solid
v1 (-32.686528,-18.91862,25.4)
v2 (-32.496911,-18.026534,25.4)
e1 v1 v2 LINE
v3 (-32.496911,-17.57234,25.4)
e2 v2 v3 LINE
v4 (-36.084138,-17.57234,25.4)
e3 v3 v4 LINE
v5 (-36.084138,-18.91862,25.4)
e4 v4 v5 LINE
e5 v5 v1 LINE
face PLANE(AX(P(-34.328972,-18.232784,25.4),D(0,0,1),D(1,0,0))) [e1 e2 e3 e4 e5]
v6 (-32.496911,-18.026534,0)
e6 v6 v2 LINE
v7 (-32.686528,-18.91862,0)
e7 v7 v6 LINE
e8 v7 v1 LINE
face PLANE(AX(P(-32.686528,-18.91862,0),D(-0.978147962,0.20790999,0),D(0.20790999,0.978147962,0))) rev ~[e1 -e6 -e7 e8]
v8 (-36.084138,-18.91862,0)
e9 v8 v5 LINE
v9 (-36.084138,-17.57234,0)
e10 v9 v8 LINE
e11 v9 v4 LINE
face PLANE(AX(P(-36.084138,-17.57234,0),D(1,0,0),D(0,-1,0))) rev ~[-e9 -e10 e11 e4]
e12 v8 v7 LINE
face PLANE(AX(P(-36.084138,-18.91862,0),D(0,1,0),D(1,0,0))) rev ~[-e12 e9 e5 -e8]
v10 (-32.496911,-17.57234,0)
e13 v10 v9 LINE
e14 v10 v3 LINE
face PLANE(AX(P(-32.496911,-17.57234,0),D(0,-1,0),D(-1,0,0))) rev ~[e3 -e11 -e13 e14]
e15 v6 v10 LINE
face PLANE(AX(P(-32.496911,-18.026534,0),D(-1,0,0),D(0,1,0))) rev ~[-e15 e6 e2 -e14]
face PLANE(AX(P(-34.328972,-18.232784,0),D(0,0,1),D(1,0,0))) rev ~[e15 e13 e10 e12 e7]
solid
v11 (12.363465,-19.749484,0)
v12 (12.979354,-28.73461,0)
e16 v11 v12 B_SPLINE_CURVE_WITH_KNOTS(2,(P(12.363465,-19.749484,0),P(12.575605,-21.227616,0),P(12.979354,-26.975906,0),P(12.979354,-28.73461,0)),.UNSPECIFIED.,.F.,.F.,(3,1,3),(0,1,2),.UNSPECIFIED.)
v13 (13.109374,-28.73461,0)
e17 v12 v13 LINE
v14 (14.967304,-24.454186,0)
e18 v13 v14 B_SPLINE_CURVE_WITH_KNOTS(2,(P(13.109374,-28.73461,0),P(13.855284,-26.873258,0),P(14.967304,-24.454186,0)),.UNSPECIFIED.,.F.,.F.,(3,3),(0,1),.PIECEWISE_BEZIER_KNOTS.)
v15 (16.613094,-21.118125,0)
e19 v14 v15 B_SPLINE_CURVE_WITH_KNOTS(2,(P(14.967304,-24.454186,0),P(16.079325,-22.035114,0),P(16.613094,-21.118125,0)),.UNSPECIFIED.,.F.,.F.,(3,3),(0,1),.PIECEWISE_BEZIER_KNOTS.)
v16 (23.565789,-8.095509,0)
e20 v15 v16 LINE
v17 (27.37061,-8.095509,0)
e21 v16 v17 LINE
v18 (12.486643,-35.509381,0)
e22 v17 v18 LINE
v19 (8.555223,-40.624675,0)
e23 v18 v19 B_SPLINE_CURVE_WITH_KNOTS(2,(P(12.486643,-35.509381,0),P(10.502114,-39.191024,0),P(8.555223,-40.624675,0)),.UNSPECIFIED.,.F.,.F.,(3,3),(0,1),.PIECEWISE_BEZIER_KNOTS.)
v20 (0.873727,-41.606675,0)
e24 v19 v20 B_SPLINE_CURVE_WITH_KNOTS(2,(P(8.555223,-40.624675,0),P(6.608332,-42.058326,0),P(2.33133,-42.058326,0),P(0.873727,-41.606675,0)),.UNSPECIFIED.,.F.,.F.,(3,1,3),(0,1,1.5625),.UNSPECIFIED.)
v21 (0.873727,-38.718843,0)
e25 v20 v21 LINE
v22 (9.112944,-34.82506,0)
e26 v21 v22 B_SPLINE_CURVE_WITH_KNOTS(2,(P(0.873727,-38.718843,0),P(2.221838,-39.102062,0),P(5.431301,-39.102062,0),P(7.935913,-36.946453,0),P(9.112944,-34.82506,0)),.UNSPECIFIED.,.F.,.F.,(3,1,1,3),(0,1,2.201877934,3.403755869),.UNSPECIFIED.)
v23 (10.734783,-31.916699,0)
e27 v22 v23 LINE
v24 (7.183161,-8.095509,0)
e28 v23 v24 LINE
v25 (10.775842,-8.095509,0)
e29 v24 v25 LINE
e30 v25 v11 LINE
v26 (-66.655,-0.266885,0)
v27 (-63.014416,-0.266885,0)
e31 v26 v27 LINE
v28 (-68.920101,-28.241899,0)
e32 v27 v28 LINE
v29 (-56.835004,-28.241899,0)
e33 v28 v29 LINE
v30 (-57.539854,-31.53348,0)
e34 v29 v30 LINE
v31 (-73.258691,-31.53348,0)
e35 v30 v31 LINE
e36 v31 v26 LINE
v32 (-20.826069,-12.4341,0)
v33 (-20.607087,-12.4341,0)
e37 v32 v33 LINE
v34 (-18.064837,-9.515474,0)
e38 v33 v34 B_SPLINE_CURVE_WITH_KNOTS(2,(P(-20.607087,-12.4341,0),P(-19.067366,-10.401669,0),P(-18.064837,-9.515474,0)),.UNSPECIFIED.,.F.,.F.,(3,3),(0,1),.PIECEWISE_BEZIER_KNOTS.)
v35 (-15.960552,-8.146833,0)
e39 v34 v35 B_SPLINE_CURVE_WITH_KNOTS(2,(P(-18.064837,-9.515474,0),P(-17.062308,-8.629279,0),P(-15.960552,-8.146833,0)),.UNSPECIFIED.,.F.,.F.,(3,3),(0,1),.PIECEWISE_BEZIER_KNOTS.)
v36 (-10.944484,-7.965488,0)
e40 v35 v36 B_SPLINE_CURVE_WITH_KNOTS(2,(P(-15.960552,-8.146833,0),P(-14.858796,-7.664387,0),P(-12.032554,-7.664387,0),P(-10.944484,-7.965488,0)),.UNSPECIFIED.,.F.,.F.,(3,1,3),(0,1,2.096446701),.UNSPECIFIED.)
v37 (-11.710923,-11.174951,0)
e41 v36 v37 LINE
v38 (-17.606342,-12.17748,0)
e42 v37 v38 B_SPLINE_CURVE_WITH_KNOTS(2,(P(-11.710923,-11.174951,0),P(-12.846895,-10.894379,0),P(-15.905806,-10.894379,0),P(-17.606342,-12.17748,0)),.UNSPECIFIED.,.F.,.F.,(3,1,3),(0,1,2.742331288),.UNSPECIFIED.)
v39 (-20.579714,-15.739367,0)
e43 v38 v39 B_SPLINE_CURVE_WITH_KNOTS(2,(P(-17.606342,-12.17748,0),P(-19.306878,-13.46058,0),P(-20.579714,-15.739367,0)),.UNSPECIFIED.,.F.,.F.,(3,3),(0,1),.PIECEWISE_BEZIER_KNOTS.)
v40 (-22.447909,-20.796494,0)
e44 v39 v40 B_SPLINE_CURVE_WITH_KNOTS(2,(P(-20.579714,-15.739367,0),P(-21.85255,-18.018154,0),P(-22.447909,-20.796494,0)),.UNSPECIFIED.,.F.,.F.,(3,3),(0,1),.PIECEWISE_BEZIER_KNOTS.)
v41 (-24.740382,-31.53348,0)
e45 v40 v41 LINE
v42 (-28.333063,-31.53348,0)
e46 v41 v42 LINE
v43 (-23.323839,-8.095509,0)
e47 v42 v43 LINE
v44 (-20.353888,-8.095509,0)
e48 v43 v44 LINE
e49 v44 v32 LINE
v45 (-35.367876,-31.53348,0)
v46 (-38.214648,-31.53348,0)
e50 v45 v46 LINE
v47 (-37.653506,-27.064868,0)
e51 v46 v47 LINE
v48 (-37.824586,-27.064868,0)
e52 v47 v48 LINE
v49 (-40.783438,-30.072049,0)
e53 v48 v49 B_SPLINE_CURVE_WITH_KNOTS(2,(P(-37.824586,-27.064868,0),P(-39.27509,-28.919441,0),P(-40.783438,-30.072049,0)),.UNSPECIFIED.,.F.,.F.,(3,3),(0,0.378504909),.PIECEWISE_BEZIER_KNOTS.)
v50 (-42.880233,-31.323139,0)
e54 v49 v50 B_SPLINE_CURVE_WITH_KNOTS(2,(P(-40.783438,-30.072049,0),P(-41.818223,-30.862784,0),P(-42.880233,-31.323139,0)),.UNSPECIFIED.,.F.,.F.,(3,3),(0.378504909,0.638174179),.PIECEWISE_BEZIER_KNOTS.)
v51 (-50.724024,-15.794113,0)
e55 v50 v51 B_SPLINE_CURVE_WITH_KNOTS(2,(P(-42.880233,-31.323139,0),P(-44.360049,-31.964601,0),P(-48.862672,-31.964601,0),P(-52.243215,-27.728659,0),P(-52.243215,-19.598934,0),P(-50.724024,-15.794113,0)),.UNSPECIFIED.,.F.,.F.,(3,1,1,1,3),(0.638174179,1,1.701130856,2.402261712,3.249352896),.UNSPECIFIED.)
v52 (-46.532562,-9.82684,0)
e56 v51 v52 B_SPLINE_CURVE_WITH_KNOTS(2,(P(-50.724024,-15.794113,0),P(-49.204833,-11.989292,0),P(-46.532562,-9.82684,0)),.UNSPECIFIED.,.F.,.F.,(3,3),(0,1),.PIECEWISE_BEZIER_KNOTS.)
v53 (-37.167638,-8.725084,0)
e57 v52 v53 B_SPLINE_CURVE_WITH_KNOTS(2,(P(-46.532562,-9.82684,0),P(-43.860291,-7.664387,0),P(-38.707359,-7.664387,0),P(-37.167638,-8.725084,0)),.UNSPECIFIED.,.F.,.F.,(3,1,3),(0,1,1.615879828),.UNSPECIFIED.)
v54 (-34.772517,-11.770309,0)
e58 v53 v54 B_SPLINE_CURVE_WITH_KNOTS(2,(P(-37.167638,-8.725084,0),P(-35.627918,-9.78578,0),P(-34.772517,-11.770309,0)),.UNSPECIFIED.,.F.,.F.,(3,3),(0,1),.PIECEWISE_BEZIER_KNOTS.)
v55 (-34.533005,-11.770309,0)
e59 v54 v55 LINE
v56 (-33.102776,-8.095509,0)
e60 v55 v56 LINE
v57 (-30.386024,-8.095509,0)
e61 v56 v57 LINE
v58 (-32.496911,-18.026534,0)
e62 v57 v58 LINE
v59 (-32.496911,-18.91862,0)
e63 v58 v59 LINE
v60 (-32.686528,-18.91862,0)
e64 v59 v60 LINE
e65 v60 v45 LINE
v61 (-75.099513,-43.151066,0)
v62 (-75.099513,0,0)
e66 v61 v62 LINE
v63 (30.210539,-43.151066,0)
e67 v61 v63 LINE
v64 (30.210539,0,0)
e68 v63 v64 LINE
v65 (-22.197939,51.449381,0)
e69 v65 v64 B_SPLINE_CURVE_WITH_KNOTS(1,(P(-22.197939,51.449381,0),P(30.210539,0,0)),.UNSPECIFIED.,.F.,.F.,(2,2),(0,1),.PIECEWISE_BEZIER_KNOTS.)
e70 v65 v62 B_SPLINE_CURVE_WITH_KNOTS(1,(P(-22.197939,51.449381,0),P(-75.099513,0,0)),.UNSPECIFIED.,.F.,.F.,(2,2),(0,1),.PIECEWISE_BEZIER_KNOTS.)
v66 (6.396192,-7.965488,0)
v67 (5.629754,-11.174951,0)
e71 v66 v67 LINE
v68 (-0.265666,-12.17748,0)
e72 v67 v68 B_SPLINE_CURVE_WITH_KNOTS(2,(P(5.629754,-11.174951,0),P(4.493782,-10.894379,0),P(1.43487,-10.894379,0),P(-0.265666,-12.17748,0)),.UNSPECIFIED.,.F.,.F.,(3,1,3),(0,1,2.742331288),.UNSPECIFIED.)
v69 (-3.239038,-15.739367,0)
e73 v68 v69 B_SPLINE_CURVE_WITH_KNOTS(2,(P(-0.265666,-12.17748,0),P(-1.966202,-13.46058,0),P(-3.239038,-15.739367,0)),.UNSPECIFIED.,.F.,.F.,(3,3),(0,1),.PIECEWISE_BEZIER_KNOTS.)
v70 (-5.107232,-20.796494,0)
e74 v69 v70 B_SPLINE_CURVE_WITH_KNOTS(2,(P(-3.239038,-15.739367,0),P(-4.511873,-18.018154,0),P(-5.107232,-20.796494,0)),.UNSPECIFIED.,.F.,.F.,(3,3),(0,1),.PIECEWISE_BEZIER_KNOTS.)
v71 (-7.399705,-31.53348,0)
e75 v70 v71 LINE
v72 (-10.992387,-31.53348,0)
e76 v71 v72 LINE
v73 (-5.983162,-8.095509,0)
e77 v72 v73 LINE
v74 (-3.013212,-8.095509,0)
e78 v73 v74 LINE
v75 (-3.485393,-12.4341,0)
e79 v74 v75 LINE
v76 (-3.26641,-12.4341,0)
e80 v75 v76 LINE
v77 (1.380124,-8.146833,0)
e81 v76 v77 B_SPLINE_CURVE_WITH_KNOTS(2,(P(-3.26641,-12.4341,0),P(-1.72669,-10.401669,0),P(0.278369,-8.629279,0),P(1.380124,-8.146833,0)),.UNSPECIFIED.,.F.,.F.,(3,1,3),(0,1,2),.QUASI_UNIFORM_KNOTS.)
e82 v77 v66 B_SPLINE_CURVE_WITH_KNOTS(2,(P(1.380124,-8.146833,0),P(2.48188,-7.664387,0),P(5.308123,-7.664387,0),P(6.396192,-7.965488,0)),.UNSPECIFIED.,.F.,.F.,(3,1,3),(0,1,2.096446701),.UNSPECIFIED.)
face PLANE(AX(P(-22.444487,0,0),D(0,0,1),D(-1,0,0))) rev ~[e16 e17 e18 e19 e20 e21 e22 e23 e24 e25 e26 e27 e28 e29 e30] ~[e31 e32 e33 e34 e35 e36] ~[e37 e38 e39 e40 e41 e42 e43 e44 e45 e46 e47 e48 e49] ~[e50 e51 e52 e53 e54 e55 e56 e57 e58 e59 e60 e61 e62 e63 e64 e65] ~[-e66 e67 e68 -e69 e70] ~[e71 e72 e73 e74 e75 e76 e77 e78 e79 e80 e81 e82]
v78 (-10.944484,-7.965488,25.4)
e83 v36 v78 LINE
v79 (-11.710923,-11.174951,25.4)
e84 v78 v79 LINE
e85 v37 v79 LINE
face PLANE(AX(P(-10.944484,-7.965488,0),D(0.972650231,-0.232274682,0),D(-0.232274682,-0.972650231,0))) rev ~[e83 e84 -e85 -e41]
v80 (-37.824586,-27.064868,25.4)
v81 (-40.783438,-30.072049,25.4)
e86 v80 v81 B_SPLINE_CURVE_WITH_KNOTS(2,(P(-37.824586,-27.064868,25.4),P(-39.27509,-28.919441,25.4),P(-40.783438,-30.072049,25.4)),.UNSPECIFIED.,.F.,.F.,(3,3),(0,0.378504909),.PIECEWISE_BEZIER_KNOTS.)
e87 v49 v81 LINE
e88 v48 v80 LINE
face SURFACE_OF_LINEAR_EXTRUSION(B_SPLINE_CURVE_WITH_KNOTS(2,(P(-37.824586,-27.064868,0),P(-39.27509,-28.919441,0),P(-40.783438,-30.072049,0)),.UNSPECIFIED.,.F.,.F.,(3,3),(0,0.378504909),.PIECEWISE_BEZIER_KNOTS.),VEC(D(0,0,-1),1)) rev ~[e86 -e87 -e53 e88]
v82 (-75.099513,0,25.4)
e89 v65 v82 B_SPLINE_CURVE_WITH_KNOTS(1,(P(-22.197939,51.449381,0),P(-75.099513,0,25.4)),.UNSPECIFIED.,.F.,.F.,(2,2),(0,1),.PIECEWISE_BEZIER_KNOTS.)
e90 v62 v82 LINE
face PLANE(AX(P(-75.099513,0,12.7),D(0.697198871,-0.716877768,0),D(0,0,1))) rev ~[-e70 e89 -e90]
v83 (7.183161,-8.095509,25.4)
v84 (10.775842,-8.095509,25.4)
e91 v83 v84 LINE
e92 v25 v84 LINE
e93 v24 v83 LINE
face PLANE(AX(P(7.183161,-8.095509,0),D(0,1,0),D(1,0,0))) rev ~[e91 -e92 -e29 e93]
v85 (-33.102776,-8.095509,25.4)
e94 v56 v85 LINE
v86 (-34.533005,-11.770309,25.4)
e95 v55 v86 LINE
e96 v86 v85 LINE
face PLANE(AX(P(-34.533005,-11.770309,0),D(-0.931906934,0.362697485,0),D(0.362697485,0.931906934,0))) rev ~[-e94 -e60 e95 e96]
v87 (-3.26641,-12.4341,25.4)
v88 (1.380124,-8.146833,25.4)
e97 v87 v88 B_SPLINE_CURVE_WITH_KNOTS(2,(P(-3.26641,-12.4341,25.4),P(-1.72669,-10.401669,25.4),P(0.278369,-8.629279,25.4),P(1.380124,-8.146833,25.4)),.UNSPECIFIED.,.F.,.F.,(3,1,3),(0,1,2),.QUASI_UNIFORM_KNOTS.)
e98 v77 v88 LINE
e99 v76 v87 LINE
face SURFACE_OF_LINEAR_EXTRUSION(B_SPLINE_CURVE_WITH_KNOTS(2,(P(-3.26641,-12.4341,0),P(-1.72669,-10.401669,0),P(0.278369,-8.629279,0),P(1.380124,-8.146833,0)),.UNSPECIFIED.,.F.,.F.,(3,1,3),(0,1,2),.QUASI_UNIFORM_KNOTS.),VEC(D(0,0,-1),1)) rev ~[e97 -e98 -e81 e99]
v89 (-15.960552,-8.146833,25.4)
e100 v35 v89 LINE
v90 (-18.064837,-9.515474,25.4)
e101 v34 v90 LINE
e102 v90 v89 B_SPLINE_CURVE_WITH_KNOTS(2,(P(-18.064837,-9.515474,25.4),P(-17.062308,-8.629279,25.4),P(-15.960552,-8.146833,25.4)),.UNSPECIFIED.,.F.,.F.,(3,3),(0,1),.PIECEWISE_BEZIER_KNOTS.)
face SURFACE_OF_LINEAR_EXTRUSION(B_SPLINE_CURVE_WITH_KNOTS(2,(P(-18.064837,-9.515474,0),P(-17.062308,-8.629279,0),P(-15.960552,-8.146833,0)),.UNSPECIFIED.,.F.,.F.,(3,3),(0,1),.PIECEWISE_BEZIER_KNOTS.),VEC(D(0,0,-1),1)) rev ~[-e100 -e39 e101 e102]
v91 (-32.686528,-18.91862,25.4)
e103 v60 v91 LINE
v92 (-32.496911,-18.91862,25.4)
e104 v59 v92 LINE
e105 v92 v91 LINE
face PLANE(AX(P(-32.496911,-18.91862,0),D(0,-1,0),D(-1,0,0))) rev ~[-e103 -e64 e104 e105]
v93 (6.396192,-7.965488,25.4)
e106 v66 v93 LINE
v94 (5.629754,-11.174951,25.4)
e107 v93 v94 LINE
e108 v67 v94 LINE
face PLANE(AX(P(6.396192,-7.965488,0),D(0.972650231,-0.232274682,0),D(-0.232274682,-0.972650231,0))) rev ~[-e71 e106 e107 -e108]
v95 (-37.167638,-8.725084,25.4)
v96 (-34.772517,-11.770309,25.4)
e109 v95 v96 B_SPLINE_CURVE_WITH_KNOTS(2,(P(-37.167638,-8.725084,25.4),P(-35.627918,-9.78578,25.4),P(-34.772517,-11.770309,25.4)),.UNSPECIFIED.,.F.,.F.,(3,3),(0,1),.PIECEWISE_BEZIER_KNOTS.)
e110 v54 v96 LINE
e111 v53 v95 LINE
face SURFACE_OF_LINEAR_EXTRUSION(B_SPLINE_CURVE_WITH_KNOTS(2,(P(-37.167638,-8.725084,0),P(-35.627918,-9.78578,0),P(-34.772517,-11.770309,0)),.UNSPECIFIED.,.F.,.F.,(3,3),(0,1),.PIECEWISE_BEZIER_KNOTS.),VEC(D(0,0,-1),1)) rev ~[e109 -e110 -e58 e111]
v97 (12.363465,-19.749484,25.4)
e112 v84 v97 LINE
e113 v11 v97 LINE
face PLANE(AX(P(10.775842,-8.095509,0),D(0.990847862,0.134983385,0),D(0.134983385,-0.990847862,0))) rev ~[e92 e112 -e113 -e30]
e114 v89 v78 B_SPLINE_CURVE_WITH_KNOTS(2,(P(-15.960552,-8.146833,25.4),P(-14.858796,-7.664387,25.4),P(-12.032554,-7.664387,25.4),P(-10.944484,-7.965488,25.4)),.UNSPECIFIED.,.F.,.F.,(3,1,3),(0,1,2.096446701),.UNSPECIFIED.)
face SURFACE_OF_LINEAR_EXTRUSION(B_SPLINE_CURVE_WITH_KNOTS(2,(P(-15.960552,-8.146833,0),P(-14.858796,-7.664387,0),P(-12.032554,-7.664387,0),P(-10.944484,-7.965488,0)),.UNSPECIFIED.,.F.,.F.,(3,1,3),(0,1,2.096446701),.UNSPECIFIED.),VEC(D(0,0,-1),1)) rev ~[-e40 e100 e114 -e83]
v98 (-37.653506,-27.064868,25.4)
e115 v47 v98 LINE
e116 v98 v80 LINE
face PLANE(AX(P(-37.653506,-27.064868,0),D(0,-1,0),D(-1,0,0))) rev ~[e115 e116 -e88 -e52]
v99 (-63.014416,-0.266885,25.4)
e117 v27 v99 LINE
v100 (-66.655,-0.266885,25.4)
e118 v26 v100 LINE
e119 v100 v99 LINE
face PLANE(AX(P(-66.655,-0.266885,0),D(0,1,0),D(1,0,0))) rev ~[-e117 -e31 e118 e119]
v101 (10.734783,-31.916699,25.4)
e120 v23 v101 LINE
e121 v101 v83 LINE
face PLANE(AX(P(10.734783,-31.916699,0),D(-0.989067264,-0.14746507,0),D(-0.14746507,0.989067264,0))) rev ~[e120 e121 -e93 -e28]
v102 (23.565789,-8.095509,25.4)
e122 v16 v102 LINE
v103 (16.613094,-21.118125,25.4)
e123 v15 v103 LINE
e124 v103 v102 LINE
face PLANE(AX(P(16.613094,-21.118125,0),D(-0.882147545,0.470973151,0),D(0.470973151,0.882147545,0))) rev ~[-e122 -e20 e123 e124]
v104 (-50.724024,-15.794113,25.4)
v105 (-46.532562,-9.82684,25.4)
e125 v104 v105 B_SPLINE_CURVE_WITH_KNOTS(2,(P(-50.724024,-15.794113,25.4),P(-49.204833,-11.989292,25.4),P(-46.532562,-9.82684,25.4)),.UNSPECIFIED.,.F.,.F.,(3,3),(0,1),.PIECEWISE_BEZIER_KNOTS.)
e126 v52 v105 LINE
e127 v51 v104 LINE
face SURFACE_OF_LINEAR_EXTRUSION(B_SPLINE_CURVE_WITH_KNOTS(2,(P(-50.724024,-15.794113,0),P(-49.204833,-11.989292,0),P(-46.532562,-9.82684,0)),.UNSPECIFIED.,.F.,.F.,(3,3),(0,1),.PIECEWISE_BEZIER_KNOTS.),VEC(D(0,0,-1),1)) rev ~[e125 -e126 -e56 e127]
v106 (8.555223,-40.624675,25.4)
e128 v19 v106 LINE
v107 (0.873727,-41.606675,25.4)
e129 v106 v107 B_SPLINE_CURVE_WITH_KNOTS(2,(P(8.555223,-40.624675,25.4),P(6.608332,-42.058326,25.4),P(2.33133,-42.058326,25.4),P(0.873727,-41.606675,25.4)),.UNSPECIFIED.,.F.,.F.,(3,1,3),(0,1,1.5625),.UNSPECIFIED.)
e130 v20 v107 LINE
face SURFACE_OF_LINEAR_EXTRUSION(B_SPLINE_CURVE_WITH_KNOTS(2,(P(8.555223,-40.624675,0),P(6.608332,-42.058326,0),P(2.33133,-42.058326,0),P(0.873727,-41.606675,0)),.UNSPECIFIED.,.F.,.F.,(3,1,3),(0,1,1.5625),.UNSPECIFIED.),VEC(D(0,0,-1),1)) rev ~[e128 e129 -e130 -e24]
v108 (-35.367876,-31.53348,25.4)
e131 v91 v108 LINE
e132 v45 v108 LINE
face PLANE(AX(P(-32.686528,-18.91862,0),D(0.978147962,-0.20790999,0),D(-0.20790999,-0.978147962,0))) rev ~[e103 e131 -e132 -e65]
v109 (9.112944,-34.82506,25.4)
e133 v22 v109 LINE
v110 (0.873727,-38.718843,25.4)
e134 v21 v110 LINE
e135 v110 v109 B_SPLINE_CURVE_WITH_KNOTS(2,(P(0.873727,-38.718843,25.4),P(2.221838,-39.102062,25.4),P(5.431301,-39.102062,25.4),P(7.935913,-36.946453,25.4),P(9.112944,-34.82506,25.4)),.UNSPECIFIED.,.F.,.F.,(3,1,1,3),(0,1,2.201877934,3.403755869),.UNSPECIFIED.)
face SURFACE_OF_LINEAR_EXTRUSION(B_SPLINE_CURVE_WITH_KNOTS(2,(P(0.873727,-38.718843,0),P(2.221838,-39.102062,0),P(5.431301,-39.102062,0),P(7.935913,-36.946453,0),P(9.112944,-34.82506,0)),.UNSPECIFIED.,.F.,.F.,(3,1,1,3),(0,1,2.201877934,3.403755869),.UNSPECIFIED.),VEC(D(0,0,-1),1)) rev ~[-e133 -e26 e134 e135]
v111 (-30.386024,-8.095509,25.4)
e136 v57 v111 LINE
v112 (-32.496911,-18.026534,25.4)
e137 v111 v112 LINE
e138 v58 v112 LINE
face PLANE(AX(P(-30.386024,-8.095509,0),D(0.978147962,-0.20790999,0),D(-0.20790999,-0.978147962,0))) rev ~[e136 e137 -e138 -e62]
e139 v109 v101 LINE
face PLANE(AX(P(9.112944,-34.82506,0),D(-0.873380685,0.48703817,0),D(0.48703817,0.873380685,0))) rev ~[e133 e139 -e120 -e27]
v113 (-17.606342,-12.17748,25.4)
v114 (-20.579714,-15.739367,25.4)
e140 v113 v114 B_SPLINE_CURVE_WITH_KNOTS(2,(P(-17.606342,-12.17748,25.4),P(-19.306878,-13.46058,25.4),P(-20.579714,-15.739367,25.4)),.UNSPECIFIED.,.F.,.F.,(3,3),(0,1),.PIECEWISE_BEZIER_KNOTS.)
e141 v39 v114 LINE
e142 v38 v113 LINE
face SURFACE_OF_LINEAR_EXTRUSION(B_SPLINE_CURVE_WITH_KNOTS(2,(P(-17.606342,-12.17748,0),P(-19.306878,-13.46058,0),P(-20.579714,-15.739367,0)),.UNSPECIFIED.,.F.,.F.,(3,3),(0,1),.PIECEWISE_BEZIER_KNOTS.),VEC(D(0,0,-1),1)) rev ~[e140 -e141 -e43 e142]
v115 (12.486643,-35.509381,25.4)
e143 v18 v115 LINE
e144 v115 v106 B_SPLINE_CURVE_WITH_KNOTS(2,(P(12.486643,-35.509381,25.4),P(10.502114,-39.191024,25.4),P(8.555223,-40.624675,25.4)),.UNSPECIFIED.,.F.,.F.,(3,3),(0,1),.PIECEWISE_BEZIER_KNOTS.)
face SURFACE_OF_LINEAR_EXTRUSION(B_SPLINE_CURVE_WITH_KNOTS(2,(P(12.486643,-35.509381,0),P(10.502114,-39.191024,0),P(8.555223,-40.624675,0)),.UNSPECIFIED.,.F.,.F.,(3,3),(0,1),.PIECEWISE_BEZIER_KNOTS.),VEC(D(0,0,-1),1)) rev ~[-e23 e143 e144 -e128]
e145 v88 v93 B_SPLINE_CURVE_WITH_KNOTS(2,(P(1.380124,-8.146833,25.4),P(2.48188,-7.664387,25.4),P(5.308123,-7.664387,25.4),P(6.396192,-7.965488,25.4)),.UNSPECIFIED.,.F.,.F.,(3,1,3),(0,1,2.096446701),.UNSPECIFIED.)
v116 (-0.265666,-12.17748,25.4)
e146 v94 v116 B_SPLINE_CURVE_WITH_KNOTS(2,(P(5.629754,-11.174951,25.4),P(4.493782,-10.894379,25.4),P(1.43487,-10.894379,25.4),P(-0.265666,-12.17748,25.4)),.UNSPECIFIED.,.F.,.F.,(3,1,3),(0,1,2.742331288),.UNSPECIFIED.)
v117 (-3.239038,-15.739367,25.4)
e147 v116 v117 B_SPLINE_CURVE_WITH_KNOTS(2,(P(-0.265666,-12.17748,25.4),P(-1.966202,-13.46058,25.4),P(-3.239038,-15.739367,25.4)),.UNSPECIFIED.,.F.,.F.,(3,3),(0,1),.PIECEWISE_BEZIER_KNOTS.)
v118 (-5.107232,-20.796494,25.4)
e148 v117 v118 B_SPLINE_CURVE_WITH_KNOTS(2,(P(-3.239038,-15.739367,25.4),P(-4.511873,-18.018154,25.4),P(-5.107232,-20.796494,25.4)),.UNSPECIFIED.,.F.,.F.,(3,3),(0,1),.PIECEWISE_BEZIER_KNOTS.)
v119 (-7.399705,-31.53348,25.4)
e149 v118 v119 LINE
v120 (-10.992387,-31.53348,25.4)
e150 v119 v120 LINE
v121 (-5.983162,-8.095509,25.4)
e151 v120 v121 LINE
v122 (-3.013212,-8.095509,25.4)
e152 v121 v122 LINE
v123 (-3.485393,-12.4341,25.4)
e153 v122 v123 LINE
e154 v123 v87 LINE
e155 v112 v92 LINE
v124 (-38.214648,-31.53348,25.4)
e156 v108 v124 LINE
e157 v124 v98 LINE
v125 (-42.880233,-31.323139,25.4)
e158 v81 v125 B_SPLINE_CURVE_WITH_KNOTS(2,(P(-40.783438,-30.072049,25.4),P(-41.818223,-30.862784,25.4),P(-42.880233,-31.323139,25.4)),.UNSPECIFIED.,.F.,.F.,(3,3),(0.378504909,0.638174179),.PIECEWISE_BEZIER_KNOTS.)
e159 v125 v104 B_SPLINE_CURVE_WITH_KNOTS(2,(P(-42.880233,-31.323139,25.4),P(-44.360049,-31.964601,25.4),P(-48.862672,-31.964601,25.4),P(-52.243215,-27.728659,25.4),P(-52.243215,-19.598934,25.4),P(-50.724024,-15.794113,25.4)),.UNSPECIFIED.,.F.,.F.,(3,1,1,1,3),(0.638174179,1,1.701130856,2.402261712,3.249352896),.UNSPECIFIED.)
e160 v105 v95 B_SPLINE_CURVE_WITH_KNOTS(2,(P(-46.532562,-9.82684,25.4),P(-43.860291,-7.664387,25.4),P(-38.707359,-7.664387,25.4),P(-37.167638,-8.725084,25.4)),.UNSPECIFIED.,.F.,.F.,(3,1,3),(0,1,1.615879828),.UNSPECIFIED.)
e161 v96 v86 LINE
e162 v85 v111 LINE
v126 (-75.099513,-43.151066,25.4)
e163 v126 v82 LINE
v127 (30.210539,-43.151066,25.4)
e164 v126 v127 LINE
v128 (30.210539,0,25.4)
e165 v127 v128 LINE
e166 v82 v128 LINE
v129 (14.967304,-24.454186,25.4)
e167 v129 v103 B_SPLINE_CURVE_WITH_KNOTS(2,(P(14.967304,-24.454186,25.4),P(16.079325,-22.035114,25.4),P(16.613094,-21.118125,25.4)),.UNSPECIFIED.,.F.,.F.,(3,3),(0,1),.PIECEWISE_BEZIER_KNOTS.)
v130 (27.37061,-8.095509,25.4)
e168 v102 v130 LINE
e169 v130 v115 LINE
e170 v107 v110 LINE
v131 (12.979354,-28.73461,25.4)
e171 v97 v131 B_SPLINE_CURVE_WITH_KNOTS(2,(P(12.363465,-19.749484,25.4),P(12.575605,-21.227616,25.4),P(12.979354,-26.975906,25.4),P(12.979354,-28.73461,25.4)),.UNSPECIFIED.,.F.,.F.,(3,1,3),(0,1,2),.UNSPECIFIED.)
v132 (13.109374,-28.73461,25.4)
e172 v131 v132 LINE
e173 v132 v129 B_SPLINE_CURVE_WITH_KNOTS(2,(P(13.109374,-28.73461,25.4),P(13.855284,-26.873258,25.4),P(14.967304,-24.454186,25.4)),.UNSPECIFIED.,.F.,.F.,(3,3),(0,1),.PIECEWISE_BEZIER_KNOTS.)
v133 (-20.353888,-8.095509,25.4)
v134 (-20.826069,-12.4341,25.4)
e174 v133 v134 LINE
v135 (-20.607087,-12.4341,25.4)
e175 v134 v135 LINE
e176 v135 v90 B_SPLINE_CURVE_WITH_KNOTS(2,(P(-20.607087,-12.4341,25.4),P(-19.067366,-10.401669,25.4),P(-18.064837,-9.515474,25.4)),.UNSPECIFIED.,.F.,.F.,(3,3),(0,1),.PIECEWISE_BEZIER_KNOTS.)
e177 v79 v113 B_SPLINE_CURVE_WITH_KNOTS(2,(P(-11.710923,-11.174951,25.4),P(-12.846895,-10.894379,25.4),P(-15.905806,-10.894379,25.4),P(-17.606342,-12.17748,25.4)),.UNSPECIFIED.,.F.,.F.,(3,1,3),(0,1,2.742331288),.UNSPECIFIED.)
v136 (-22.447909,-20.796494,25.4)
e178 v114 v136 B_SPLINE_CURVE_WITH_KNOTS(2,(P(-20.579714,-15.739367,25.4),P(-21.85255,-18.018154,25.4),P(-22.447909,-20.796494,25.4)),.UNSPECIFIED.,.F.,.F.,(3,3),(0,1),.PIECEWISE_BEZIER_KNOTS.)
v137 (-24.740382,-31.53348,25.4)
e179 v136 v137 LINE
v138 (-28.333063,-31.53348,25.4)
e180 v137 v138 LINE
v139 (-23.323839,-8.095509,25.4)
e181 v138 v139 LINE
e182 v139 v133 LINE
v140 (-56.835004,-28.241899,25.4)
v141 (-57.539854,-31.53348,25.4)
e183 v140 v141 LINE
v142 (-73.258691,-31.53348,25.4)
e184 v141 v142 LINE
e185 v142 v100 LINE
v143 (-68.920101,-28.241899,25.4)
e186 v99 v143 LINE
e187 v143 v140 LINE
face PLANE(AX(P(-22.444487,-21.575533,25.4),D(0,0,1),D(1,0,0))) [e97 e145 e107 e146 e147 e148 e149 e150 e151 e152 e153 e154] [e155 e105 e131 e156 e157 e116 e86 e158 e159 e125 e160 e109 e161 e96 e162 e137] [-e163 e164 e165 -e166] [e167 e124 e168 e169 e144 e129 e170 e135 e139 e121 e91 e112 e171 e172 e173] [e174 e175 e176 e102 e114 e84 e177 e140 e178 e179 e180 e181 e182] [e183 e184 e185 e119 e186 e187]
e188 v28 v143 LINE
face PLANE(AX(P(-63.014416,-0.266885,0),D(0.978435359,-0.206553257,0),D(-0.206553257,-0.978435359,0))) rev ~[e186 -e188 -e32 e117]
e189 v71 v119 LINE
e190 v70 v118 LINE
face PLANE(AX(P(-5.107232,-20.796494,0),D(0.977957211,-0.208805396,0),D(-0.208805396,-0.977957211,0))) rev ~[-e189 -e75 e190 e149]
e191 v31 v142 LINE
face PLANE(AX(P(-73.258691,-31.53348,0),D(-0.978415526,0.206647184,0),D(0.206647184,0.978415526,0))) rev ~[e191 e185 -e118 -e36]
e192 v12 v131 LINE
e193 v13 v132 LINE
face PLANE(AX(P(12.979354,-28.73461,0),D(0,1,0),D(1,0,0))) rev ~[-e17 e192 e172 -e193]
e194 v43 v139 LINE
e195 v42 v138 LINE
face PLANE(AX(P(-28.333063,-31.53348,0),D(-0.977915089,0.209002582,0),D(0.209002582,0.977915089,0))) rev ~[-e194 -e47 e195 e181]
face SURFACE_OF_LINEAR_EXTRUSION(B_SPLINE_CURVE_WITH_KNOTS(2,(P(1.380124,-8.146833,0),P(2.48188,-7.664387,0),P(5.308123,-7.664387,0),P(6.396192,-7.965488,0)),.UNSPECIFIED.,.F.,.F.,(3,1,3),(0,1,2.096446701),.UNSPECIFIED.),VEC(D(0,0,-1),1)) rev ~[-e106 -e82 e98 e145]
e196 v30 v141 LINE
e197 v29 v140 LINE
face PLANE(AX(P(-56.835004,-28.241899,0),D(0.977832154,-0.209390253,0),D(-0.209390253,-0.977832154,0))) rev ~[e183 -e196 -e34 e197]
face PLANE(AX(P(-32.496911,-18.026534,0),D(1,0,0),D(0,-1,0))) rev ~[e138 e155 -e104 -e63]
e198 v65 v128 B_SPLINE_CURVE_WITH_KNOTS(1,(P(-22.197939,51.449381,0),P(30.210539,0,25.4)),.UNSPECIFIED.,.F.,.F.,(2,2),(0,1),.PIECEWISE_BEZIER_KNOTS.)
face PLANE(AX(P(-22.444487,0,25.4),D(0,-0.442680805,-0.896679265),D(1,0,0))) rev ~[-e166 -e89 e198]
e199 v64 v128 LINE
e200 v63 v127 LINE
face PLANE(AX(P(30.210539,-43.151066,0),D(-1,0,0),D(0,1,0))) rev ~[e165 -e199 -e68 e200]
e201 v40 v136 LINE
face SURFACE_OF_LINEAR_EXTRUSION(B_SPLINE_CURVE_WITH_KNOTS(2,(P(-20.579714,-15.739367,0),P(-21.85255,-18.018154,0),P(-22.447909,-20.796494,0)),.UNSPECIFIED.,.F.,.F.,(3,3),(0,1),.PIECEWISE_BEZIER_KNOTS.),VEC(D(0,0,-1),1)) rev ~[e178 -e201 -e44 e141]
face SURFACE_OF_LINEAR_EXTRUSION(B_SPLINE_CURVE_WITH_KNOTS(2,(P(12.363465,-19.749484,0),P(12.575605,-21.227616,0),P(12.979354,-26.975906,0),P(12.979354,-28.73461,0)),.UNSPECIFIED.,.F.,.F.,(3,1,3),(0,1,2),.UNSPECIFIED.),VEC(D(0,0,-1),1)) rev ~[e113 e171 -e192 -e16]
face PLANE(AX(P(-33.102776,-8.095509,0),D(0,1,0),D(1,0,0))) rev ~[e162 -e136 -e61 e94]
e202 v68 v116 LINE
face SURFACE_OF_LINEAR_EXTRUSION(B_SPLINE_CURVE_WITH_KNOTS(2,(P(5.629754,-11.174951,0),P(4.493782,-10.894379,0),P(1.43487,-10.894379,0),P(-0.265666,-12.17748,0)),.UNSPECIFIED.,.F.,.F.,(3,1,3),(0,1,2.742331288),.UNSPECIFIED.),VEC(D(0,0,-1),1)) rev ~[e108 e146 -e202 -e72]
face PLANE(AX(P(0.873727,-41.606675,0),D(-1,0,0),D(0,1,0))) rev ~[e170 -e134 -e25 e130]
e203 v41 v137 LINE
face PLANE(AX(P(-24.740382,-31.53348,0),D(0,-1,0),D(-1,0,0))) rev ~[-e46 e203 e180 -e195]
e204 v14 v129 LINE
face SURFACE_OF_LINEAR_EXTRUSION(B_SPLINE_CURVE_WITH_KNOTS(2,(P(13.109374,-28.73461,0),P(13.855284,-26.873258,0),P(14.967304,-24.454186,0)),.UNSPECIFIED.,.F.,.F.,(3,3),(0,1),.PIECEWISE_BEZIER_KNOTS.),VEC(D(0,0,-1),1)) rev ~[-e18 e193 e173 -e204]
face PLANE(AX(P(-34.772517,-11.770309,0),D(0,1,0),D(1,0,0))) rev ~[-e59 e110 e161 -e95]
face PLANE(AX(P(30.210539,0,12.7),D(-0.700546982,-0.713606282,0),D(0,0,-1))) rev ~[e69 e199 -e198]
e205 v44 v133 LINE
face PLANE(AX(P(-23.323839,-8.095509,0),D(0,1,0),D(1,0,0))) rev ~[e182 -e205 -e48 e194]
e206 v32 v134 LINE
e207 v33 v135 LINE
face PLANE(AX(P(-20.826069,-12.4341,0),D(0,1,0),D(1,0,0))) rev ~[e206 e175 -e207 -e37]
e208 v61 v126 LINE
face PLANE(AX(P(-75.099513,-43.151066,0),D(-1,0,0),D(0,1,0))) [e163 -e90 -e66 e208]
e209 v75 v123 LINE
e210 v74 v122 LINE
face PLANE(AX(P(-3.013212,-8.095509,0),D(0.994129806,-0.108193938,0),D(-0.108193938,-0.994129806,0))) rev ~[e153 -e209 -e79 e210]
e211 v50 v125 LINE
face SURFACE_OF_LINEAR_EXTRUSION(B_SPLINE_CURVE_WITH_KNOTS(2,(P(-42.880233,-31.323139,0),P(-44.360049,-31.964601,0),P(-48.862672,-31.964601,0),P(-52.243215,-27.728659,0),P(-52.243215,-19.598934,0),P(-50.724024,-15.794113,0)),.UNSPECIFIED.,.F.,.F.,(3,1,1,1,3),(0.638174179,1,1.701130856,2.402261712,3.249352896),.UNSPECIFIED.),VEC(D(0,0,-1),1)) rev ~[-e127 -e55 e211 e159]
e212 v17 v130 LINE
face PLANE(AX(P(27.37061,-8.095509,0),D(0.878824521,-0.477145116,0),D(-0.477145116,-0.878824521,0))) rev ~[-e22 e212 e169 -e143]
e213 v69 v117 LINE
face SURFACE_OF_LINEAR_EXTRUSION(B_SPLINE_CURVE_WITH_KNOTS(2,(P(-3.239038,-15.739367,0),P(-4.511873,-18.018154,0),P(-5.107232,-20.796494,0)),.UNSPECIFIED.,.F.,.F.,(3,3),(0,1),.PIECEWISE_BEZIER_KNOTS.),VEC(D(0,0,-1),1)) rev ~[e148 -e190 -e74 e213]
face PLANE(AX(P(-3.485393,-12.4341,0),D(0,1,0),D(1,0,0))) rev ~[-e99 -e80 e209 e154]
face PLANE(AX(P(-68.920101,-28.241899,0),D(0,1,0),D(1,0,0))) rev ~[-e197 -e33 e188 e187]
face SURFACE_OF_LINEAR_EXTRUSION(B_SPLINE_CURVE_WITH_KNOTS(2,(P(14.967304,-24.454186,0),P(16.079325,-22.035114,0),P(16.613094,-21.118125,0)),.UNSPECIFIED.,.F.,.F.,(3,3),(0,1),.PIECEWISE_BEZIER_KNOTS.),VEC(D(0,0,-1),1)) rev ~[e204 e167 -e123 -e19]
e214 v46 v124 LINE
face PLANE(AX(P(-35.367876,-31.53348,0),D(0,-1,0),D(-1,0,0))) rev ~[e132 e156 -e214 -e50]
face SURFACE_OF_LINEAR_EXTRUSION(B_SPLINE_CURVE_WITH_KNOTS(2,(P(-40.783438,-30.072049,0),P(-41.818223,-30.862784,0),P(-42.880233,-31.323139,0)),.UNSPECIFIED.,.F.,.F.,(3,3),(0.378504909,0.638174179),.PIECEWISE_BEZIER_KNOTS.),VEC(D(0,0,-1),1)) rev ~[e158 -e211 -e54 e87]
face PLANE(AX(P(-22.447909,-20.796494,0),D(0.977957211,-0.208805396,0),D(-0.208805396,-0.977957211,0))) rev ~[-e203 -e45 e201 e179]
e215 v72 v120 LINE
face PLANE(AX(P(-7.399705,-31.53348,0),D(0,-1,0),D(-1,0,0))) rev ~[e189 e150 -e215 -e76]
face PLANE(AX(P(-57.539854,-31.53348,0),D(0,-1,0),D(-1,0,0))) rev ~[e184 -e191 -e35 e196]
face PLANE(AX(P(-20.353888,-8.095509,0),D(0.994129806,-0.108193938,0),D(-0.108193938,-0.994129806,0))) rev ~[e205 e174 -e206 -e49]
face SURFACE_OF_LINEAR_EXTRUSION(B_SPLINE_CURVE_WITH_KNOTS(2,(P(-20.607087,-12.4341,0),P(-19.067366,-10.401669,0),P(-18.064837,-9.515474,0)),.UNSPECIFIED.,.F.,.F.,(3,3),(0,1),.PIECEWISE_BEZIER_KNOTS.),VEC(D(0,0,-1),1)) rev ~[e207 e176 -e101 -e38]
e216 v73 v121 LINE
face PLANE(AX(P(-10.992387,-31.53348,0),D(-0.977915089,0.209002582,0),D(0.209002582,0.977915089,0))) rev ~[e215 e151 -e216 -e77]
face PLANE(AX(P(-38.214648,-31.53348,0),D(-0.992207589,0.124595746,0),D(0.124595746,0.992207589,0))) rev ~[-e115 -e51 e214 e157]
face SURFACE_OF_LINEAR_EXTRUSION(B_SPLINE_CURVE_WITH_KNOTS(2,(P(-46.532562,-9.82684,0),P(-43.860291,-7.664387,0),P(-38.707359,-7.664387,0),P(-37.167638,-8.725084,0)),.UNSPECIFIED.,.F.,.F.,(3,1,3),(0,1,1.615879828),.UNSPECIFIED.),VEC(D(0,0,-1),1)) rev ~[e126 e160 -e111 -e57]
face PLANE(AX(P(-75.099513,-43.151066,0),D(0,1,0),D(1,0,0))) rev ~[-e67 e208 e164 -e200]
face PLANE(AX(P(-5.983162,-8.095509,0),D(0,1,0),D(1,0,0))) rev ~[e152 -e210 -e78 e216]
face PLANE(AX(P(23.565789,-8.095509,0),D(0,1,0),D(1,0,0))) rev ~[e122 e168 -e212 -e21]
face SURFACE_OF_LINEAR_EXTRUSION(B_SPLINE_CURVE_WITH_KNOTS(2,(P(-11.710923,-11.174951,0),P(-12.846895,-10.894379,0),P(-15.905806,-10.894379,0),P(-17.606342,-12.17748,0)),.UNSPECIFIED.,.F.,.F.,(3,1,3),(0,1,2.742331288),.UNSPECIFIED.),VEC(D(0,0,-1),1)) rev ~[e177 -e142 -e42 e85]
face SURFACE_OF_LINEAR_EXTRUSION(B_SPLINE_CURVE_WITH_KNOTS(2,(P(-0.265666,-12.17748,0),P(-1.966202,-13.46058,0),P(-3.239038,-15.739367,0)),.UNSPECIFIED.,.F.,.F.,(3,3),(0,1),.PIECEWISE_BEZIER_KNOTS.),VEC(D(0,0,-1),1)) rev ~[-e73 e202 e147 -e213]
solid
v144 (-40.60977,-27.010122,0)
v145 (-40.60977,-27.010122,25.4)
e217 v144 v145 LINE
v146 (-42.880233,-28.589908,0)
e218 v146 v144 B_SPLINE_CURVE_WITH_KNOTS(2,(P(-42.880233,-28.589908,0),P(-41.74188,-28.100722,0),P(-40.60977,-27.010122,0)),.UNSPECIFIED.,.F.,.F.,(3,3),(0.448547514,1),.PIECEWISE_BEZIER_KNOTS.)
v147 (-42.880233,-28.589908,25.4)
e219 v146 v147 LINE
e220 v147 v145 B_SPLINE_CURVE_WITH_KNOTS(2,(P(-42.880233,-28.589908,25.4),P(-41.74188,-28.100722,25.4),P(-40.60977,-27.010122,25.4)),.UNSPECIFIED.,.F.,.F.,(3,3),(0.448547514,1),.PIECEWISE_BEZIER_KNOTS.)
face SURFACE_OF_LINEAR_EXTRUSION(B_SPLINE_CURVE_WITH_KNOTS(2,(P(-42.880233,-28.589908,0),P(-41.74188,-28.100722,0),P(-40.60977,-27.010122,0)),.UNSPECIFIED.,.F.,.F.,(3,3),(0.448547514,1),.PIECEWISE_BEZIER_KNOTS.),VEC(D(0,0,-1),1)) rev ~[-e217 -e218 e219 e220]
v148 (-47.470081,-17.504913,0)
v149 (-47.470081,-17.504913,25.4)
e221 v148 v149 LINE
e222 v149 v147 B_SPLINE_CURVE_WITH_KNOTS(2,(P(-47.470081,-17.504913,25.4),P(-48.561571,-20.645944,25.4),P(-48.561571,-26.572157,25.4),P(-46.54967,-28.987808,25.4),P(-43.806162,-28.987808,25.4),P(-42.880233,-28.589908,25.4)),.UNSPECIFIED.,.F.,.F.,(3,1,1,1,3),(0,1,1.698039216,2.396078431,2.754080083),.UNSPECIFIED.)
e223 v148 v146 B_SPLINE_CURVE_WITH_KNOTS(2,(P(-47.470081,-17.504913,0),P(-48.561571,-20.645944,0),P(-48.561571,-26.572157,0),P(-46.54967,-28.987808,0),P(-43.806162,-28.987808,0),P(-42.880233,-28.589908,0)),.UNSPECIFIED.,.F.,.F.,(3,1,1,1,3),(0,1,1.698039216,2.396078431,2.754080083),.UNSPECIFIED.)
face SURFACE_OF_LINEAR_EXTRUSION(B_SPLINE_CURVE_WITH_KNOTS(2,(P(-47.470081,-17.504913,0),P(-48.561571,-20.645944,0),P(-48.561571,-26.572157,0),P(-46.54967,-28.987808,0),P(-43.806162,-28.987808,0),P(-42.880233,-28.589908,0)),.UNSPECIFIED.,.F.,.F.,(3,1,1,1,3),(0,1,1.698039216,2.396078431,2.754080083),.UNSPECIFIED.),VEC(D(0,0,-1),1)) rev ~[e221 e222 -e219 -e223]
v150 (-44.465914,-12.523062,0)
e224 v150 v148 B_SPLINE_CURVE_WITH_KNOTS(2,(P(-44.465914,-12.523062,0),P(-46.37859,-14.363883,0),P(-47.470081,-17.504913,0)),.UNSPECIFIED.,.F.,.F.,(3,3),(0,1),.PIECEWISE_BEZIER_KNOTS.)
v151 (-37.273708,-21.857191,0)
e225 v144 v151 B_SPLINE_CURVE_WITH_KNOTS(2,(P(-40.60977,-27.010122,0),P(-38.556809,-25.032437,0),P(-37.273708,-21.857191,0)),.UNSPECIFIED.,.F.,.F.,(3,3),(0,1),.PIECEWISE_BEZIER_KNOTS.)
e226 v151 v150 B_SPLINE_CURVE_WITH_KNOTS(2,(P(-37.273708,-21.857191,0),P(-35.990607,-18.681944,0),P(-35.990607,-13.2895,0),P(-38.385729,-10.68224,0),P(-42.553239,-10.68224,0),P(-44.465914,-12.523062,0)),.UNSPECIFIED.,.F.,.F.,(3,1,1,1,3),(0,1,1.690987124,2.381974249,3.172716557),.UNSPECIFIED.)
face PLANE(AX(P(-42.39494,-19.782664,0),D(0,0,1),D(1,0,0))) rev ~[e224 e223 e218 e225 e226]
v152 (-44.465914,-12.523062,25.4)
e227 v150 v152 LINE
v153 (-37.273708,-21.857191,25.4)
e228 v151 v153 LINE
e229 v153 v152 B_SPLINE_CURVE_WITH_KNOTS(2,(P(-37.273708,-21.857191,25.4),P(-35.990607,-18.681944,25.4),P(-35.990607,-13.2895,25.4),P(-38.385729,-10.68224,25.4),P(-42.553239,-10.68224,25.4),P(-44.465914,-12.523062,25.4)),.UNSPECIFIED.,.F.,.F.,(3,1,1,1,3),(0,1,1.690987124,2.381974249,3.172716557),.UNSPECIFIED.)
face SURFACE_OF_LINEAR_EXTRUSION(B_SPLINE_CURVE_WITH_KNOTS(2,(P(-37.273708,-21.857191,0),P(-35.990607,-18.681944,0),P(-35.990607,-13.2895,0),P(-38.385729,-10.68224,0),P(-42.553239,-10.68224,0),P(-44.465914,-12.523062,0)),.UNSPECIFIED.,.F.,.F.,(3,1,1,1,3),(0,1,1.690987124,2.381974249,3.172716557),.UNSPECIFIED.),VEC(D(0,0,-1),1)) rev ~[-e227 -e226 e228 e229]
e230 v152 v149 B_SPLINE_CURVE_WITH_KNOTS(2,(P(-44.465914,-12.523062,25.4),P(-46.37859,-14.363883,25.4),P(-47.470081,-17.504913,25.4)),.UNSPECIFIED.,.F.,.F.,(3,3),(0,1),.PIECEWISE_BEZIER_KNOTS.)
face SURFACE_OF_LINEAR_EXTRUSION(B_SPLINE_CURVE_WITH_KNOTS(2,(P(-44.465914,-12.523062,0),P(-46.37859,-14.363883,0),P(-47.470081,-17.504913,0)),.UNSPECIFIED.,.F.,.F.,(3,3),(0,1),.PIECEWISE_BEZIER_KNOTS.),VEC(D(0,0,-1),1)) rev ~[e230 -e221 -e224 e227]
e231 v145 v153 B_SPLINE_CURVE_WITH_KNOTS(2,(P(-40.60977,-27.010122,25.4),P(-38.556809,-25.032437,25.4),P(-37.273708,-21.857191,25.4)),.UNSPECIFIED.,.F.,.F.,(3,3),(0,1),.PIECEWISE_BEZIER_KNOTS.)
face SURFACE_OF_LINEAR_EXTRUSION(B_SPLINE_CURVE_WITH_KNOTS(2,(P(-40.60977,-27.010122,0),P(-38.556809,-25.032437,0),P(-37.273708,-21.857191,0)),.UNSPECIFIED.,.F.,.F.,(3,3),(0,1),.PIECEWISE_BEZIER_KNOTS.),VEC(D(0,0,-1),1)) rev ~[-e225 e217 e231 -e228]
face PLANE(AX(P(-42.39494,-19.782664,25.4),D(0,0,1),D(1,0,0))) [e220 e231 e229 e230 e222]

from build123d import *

# Parameters (mm, degrees)
F0_W      = 105.3100518572
F0_H      = 43.1510657072
F1_DEPTH  = 25.4
F1_FACE_W = 105.3100518572
F1_FACE_H = 25.4


with BuildPart() as f1:
    # F0 (on Top) → F1 (new body)
    with BuildSketch(Plane.XY):
        with Locations((-22.4444870061, -21.5755328536)):
            Rectangle(F0_W, F0_H)
        with BuildLine():
            Line((10.7347830199, -31.9166990618), (7.1831606328, -8.0955092174))
            Line((7.1831606328, -8.0955092174), (10.7758422382, -8.0955092174))
            Line((10.7758422382, -8.0955092174), (12.3634653476, -19.7494840249))
            add(Edge.make_bspline(
                [(12.3634653476, -19.7494840249), (12.5756046424, -21.2276158854), (12.7774791326, -24.1017611697)],
                knots=[0, 0, 0, 1, 1, 1], degree=2))
            add(Edge.make_bspline(
                [(12.7774791326, -24.1017611697), (12.9793536228, -26.975906454), (12.9793536228, -28.7346096399)],
                knots=[0, 0, 0, 1, 1, 1], degree=2))
            Line((12.9793536228, -28.7346096399), (13.1093744809, -28.7346096399))
            add(Edge.make_bspline(
                [(13.1093744809, -28.7346096399), (13.8552836142, -26.8732584082), (14.9673041111, -24.4541861272)],
                knots=[0, 0, 0, 1, 1, 1], degree=2))
            add(Edge.make_bspline(
                [(14.9673041111, -24.4541861272), (16.079324608, -22.0351138463), (16.6130944466, -21.1181246365)],
                knots=[0, 0, 0, 1, 1, 1], degree=2))
            Line((16.6130944466, -21.1181246365), (23.5657887533, -8.0955092174))
            Line((23.5657887533, -8.0955092174), (27.3706096535, -8.0955092174))
            Line((27.3706096535, -8.0955092174), (12.4866430027, -35.5093806672))
            add(Edge.make_bspline(
                [(12.4866430027, -35.5093806672), (10.5021141159, -39.1910239123), (8.5552228459, -40.6246749529)],
                knots=[0, 0, 0, 1, 1, 1], degree=2))
            add(Edge.make_bspline(
                [(8.5552228459, -40.6246749529), (6.608331576, -42.0583259935), (3.8710503529, -42.0583259935)],
                knots=[0, 0, 0, 1, 1, 1], degree=2))
            add(Edge.make_bspline(
                [(3.8710503529, -42.0583259935), (2.3313296648, -42.0583259935), (0.8737274135, -41.6066745917)],
                knots=[0, 0, 0, 1, 1, 1], degree=2))
            Line((0.8737274135, -41.6066745917), (0.8737274135, -38.7188429013))
            add(Edge.make_bspline(
                [(0.8737274135, -38.7188429013), (2.2218384159, -39.1020622725), (3.6794406672, -39.1020622725)],
                knots=[0, 0, 0, 1, 1, 1], degree=2))
            add(Edge.make_bspline(
                [(3.6794406672, -39.1020622725), (5.43130065, -39.1020622725), (6.6836068096, -38.0242577909)],
                knots=[0, 0, 0, 1, 1, 1], degree=2))
            add(Edge.make_bspline(
                [(6.6836068096, -38.0242577909), (7.9359129692, -36.9464533093), (9.1129438952, -34.8250603614)],
                knots=[0, 0, 0, 1, 1, 1], degree=2))
            Line((9.1129438952, -34.8250603614), (10.7347830199, -31.9166990618))
        make_face(mode=Mode.SUBTRACT)
        Polygon((-57.5398538883, -31.5334796906), (-73.2586913121, -31.5334796906), (-66.6550003613, -0.2668849193), (-63.0144163345, -0.2668849193), (-68.9201005735, -28.2418990197), (-56.8350039733, -28.2418990197), align=None, mode=Mode.SUBTRACT)
        with BuildLine():
            add(Edge.make_bspline(
                [(-40.7834376307, -30.072049337), (-41.8182234846, -30.862783876), (-42.8802333772, -31.323138556)],
                knots=[0.3785049089, 0.3785049089, 0.3785049089, 0.638174179, 0.638174179, 0.638174179], degree=2))
            add(Edge.make_bspline(
                [(-42.8802333772, -31.323138556), (-44.3600488412, -31.9646014832), (-45.8927222838, -31.9646014832)],
                knots=[0.638174179, 0.638174179, 0.638174179, 1, 1, 1], degree=2))
            add(Edge.make_bspline(
                [(-45.8927222838, -31.9646014832), (-48.8626724109, -31.9646014832), (-50.5529435662, -29.8466301368)],
                knots=[0, 0, 0, 1, 1, 1], degree=2))
            add(Edge.make_bspline(
                [(-50.5529435662, -29.8466301368), (-52.2432147215, -27.7286587904), (-52.2432147215, -24.0470155453)],
                knots=[0, 0, 0, 1, 1, 1], degree=2))
            add(Edge.make_bspline(
                [(-52.2432147215, -24.0470155453), (-52.2432147215, -19.5989335577), (-50.7240236426, -15.7941126575)],
                knots=[0, 0, 0, 1, 1, 1], degree=2))
            add(Edge.make_bspline(
                [(-50.7240236426, -15.7941126575), (-49.2048325638, -11.9892917573), (-46.5325617697, -9.8268395911)],
                knots=[0, 0, 0, 1, 1, 1], degree=2))
            add(Edge.make_bspline(
                [(-46.5325617697, -9.8268395911), (-43.8602909756, -7.6643874248), (-40.6713583507, -7.6643874248)],
                knots=[0, 0, 0, 1, 1, 1], degree=2))
            add(Edge.make_bspline(
                [(-40.6713583507, -7.6643874248), (-38.7073590731, -7.6643874248), (-37.167638385, -8.7250838988)],
                knots=[0, 0, 0, 1, 1, 1], degree=2))
            add(Edge.make_bspline(
                [(-37.167638385, -8.7250838988), (-35.627917697, -9.7857803727), (-34.7725173148, -11.7703092595)],
                knots=[0, 0, 0, 1, 1, 1], degree=2))
            Line((-34.7725173148, -11.7703092595), (-34.5330052078, -11.7703092595))
            Line((-34.5330052078, -11.7703092595), (-33.1027757687, -8.0955092174))
            Line((-33.1027757687, -8.0955092174), (-30.3860241547, -8.0955092174))
            Line((-30.3860241547, -8.0955092174), (-32.4969105422, -18.0265337741))
            Line((-32.4969105422, -18.0265337741), (-32.4969105422, -18.9186204225))
            Line((-32.4969105422, -18.9186204225), (-32.6865277919, -18.9186204225))
            Line((-32.6865277919, -18.9186204225), (-35.3678759808, -31.5334796906))
            Line((-35.3678759808, -31.5334796906), (-38.2146484529, -31.5334796906))
            Line((-38.2146484529, -31.5334796906), (-37.6535058022, -27.0648680938))
            Line((-37.6535058022, -27.0648680938), (-37.8245858786, -27.0648680938))
            add(Edge.make_bspline(
                [(-37.8245858786, -27.0648680938), (-39.2750900108, -28.9194412342), (-40.7834376307, -30.072049337)],
                knots=[0, 0, 0, 0.3785049089, 0.3785049089, 0.3785049089], degree=2))
        make_face(mode=Mode.SUBTRACT)
        with BuildLine():
            add(Edge.make_bspline(
                [(-15.9605521088, -8.1468332404), (-14.8587964165, -7.6643874248), (-13.5106854141, -7.6643874248)],
                knots=[0, 0, 0, 1, 1, 1], degree=2))
            add(Edge.make_bspline(
                [(-13.5106854141, -7.6643874248), (-12.0325535536, -7.6643874248), (-10.9444842674, -7.9654883593)],
                knots=[0, 0, 0, 1, 1, 1], degree=2))
            Line((-10.9444842674, -7.9654883593), (-11.7109230099, -11.1749505935))
            add(Edge.make_bspline(
                [(-11.7109230099, -11.1749505935), (-12.8468947175, -10.8943792681), (-13.9623368159, -10.8943792681)],
                knots=[0, 0, 0, 1, 1, 1], degree=2))
            add(Edge.make_bspline(
                [(-13.9623368159, -10.8943792681), (-15.9058064843, -10.8943792681), (-17.6063424442, -12.1774798414)],
                knots=[0, 0, 0, 1, 1, 1], degree=2))
            add(Edge.make_bspline(
                [(-17.6063424442, -12.1774798414), (-19.3068784041, -13.4605804148), (-20.5797141728, -15.739367033)],
                knots=[0, 0, 0, 1, 1, 1], degree=2))
            add(Edge.make_bspline(
                [(-20.5797141728, -15.739367033), (-21.8525499416, -18.0181536513), (-22.4479086076, -20.7964940928)],
                knots=[0, 0, 0, 1, 1, 1], degree=2))
            Line((-22.4479086076, -20.7964940928), (-24.740381632, -31.5334796906))
            Line((-24.740381632, -31.5334796906), (-28.3330632374, -31.5334796906))
            Line((-28.3330632374, -31.5334796906), (-23.323838599, -8.0955092174))
            Line((-23.323838599, -8.0955092174), (-20.3538884719, -8.0955092174))
            Line((-20.3538884719, -8.0955092174), (-20.8260694829, -12.4340999561))
            Line((-20.8260694829, -12.4340999561), (-20.6070869851, -12.4340999561))
            add(Edge.make_bspline(
                [(-20.6070869851, -12.4340999561), (-19.067366297, -10.4016686479), (-18.0648370491, -9.5154738519)],
                knots=[0, 0, 0, 1, 1, 1], degree=2))
            add(Edge.make_bspline(
                [(-18.0648370491, -9.5154738519), (-17.0623078011, -8.6292790559), (-15.9605521088, -8.1468332404)],
                knots=[0, 0, 0, 1, 1, 1], degree=2))
        make_face(mode=Mode.SUBTRACT)
        with BuildLine():
            add(Edge.make_bspline(
                [(1.3801244398, -8.1468332404), (2.4818801321, -7.6643874248), (3.8299911345, -7.6643874248)],
                knots=[0, 0, 0, 1, 1, 1], degree=2))
            add(Edge.make_bspline(
                [(3.8299911345, -7.6643874248), (5.308122995, -7.6643874248), (6.3961922812, -7.9654883593)],
                knots=[0, 0, 0, 1, 1, 1], degree=2))
            Line((6.3961922812, -7.9654883593), (5.6297535387, -11.1749505935))
            add(Edge.make_bspline(
                [(5.6297535387, -11.1749505935), (4.4937818311, -10.8943792681), (3.3783397327, -10.8943792681)],
                knots=[0, 0, 0, 1, 1, 1], degree=2))
            add(Edge.make_bspline(
                [(3.3783397327, -10.8943792681), (1.4348700643, -10.8943792681), (-0.2656658956, -12.1774798414)],
                knots=[0, 0, 0, 1, 1, 1], degree=2))
            add(Edge.make_bspline(
                [(-0.2656658956, -12.1774798414), (-1.9662018555, -13.4605804148), (-3.2390376242, -15.739367033)],
                knots=[0, 0, 0, 1, 1, 1], degree=2))
            add(Edge.make_bspline(
                [(-3.2390376242, -15.739367033), (-4.511873393, -18.0181536513), (-5.107232059, -20.7964940928)],
                knots=[0, 0, 0, 1, 1, 1], degree=2))
            Line((-5.107232059, -20.7964940928), (-7.3997050834, -31.5334796906))
            Line((-7.3997050834, -31.5334796906), (-10.9923866888, -31.5334796906))
            Line((-10.9923866888, -31.5334796906), (-5.9831620504, -8.0955092174))
            Line((-5.9831620504, -8.0955092174), (-3.0132119233, -8.0955092174))
            Line((-3.0132119233, -8.0955092174), (-3.4853929343, -12.4340999561))
            Line((-3.4853929343, -12.4340999561), (-3.2664104365, -12.4340999561))
            add(Edge.make_bspline(
                [(-3.2664104365, -12.4340999561), (-1.7266897485, -10.4016686479), (-0.7241605005, -9.5154738519)],
                knots=[0, 0, 0, 1, 1, 1], degree=2))
            add(Edge.make_bspline(
                [(-0.7241605005, -9.5154738519), (0.2783687475, -8.6292790559), (1.3801244398, -8.1468332404)],
                knots=[0, 0, 0, 1, 1, 1], degree=2))
        make_face(mode=Mode.SUBTRACT)
    extrude(amount=F1_DEPTH)

    # F1_face (on face) → F3 section 0
    with BuildSketch(Plane(origin=(-22.4444870061, 0, 12.7), x_dir=(-1, 0, 0), z_dir=(0, 1, 0)), mode=Mode.PRIVATE) as f3_s0:
        Rectangle(F1_FACE_W, F1_FACE_H)
    loft([Vertex(-22.1979394555, 51.449380815, 0), f3_s0.sketch])


with BuildPart() as f1b:
    # F0 (on Top) → F1, piece 2 (new body)
    with BuildSketch(Plane.XY):
        Polygon((-36.084137857, -18.9186204225), (-32.6865277919, -18.9186204225), (-32.4969105422, -18.0265337741), (-32.4969105422, -17.5723396242), (-36.084137857, -17.5723396242), align=None)
    extrude(amount=F1_DEPTH)


with BuildPart() as f1c:
    # F0 (on Top) → F1, piece 3 (new body)
    with BuildSketch(Plane.XY):
        with BuildLine():
            add(Edge.make_bspline(
                [(-44.736220967, -28.987808153), (-43.8061619461, -28.987808153), (-42.8802333772, -28.5899079344)],
                knots=[0, 0, 0, 0.448547514, 0.448547514, 0.448547514], degree=2))
            add(Edge.make_bspline(
                [(-42.8802333772, -28.5899079344), (-41.7418799247, -28.1007221562), (-40.6097695231, -27.0101224693)],
                knots=[0.448547514, 0.448547514, 0.448547514, 1, 1, 1], degree=2))
            add(Edge.make_bspline(
                [(-40.6097695231, -27.0101224693), (-38.5568086058, -25.0324367856), (-37.2737080324, -21.8571905668)],
                knots=[0, 0, 0, 1, 1, 1], degree=2))
            add(Edge.make_bspline(
                [(-37.2737080324, -21.8571905668), (-35.9906074591, -18.6819443479), (-35.9906074591, -15.493011723)],
                knots=[0, 0, 0, 1, 1, 1], degree=2))
            add(Edge.make_bspline(
                [(-35.9906074591, -15.493011723), (-35.9906074591, -13.2895003383), (-37.1881679942, -11.9858701558)],
                knots=[0, 0, 0, 1, 1, 1], degree=2))
            add(Edge.make_bspline(
                [(-37.1881679942, -11.9858701558), (-38.3857285293, -10.6822399733), (-40.3291981978, -10.6822399733)],
                knots=[0, 0, 0, 1, 1, 1], degree=2))
            add(Edge.make_bspline(
                [(-40.3291981978, -10.6822399733), (-42.5532391916, -10.6822399733), (-44.4659144462, -12.5230615959)],
                knots=[0, 0, 0, 1, 1, 1], degree=2))
            add(Edge.make_bspline(
                [(-44.4659144462, -12.5230615959), (-46.3785897009, -14.3638832184), (-47.4700805886, -17.504913422)],
                knots=[0, 0, 0, 1, 1, 1], degree=2))
            add(Edge.make_bspline(
                [(-47.4700805886, -17.504913422), (-48.5615714764, -20.6459436255), (-48.5615714764, -24.135977185)],
                knots=[0, 0, 0, 1, 1, 1], degree=2))
            add(Edge.make_bspline(
                [(-48.5615714764, -24.135977185), (-48.5615714764, -26.5721574736), (-47.5556206269, -27.7799828133)],
                knots=[0, 0, 0, 1, 1, 1], degree=2))
            add(Edge.make_bspline(
                [(-47.5556206269, -27.7799828133), (-46.5496697774, -28.987808153), (-44.736220967, -28.987808153)],
                knots=[0, 0, 0, 1, 1, 1], degree=2))
        make_face()
    extrude(amount=F1_DEPTH)


solid = Compound([f1.part, f1b.part, f1c.part])
